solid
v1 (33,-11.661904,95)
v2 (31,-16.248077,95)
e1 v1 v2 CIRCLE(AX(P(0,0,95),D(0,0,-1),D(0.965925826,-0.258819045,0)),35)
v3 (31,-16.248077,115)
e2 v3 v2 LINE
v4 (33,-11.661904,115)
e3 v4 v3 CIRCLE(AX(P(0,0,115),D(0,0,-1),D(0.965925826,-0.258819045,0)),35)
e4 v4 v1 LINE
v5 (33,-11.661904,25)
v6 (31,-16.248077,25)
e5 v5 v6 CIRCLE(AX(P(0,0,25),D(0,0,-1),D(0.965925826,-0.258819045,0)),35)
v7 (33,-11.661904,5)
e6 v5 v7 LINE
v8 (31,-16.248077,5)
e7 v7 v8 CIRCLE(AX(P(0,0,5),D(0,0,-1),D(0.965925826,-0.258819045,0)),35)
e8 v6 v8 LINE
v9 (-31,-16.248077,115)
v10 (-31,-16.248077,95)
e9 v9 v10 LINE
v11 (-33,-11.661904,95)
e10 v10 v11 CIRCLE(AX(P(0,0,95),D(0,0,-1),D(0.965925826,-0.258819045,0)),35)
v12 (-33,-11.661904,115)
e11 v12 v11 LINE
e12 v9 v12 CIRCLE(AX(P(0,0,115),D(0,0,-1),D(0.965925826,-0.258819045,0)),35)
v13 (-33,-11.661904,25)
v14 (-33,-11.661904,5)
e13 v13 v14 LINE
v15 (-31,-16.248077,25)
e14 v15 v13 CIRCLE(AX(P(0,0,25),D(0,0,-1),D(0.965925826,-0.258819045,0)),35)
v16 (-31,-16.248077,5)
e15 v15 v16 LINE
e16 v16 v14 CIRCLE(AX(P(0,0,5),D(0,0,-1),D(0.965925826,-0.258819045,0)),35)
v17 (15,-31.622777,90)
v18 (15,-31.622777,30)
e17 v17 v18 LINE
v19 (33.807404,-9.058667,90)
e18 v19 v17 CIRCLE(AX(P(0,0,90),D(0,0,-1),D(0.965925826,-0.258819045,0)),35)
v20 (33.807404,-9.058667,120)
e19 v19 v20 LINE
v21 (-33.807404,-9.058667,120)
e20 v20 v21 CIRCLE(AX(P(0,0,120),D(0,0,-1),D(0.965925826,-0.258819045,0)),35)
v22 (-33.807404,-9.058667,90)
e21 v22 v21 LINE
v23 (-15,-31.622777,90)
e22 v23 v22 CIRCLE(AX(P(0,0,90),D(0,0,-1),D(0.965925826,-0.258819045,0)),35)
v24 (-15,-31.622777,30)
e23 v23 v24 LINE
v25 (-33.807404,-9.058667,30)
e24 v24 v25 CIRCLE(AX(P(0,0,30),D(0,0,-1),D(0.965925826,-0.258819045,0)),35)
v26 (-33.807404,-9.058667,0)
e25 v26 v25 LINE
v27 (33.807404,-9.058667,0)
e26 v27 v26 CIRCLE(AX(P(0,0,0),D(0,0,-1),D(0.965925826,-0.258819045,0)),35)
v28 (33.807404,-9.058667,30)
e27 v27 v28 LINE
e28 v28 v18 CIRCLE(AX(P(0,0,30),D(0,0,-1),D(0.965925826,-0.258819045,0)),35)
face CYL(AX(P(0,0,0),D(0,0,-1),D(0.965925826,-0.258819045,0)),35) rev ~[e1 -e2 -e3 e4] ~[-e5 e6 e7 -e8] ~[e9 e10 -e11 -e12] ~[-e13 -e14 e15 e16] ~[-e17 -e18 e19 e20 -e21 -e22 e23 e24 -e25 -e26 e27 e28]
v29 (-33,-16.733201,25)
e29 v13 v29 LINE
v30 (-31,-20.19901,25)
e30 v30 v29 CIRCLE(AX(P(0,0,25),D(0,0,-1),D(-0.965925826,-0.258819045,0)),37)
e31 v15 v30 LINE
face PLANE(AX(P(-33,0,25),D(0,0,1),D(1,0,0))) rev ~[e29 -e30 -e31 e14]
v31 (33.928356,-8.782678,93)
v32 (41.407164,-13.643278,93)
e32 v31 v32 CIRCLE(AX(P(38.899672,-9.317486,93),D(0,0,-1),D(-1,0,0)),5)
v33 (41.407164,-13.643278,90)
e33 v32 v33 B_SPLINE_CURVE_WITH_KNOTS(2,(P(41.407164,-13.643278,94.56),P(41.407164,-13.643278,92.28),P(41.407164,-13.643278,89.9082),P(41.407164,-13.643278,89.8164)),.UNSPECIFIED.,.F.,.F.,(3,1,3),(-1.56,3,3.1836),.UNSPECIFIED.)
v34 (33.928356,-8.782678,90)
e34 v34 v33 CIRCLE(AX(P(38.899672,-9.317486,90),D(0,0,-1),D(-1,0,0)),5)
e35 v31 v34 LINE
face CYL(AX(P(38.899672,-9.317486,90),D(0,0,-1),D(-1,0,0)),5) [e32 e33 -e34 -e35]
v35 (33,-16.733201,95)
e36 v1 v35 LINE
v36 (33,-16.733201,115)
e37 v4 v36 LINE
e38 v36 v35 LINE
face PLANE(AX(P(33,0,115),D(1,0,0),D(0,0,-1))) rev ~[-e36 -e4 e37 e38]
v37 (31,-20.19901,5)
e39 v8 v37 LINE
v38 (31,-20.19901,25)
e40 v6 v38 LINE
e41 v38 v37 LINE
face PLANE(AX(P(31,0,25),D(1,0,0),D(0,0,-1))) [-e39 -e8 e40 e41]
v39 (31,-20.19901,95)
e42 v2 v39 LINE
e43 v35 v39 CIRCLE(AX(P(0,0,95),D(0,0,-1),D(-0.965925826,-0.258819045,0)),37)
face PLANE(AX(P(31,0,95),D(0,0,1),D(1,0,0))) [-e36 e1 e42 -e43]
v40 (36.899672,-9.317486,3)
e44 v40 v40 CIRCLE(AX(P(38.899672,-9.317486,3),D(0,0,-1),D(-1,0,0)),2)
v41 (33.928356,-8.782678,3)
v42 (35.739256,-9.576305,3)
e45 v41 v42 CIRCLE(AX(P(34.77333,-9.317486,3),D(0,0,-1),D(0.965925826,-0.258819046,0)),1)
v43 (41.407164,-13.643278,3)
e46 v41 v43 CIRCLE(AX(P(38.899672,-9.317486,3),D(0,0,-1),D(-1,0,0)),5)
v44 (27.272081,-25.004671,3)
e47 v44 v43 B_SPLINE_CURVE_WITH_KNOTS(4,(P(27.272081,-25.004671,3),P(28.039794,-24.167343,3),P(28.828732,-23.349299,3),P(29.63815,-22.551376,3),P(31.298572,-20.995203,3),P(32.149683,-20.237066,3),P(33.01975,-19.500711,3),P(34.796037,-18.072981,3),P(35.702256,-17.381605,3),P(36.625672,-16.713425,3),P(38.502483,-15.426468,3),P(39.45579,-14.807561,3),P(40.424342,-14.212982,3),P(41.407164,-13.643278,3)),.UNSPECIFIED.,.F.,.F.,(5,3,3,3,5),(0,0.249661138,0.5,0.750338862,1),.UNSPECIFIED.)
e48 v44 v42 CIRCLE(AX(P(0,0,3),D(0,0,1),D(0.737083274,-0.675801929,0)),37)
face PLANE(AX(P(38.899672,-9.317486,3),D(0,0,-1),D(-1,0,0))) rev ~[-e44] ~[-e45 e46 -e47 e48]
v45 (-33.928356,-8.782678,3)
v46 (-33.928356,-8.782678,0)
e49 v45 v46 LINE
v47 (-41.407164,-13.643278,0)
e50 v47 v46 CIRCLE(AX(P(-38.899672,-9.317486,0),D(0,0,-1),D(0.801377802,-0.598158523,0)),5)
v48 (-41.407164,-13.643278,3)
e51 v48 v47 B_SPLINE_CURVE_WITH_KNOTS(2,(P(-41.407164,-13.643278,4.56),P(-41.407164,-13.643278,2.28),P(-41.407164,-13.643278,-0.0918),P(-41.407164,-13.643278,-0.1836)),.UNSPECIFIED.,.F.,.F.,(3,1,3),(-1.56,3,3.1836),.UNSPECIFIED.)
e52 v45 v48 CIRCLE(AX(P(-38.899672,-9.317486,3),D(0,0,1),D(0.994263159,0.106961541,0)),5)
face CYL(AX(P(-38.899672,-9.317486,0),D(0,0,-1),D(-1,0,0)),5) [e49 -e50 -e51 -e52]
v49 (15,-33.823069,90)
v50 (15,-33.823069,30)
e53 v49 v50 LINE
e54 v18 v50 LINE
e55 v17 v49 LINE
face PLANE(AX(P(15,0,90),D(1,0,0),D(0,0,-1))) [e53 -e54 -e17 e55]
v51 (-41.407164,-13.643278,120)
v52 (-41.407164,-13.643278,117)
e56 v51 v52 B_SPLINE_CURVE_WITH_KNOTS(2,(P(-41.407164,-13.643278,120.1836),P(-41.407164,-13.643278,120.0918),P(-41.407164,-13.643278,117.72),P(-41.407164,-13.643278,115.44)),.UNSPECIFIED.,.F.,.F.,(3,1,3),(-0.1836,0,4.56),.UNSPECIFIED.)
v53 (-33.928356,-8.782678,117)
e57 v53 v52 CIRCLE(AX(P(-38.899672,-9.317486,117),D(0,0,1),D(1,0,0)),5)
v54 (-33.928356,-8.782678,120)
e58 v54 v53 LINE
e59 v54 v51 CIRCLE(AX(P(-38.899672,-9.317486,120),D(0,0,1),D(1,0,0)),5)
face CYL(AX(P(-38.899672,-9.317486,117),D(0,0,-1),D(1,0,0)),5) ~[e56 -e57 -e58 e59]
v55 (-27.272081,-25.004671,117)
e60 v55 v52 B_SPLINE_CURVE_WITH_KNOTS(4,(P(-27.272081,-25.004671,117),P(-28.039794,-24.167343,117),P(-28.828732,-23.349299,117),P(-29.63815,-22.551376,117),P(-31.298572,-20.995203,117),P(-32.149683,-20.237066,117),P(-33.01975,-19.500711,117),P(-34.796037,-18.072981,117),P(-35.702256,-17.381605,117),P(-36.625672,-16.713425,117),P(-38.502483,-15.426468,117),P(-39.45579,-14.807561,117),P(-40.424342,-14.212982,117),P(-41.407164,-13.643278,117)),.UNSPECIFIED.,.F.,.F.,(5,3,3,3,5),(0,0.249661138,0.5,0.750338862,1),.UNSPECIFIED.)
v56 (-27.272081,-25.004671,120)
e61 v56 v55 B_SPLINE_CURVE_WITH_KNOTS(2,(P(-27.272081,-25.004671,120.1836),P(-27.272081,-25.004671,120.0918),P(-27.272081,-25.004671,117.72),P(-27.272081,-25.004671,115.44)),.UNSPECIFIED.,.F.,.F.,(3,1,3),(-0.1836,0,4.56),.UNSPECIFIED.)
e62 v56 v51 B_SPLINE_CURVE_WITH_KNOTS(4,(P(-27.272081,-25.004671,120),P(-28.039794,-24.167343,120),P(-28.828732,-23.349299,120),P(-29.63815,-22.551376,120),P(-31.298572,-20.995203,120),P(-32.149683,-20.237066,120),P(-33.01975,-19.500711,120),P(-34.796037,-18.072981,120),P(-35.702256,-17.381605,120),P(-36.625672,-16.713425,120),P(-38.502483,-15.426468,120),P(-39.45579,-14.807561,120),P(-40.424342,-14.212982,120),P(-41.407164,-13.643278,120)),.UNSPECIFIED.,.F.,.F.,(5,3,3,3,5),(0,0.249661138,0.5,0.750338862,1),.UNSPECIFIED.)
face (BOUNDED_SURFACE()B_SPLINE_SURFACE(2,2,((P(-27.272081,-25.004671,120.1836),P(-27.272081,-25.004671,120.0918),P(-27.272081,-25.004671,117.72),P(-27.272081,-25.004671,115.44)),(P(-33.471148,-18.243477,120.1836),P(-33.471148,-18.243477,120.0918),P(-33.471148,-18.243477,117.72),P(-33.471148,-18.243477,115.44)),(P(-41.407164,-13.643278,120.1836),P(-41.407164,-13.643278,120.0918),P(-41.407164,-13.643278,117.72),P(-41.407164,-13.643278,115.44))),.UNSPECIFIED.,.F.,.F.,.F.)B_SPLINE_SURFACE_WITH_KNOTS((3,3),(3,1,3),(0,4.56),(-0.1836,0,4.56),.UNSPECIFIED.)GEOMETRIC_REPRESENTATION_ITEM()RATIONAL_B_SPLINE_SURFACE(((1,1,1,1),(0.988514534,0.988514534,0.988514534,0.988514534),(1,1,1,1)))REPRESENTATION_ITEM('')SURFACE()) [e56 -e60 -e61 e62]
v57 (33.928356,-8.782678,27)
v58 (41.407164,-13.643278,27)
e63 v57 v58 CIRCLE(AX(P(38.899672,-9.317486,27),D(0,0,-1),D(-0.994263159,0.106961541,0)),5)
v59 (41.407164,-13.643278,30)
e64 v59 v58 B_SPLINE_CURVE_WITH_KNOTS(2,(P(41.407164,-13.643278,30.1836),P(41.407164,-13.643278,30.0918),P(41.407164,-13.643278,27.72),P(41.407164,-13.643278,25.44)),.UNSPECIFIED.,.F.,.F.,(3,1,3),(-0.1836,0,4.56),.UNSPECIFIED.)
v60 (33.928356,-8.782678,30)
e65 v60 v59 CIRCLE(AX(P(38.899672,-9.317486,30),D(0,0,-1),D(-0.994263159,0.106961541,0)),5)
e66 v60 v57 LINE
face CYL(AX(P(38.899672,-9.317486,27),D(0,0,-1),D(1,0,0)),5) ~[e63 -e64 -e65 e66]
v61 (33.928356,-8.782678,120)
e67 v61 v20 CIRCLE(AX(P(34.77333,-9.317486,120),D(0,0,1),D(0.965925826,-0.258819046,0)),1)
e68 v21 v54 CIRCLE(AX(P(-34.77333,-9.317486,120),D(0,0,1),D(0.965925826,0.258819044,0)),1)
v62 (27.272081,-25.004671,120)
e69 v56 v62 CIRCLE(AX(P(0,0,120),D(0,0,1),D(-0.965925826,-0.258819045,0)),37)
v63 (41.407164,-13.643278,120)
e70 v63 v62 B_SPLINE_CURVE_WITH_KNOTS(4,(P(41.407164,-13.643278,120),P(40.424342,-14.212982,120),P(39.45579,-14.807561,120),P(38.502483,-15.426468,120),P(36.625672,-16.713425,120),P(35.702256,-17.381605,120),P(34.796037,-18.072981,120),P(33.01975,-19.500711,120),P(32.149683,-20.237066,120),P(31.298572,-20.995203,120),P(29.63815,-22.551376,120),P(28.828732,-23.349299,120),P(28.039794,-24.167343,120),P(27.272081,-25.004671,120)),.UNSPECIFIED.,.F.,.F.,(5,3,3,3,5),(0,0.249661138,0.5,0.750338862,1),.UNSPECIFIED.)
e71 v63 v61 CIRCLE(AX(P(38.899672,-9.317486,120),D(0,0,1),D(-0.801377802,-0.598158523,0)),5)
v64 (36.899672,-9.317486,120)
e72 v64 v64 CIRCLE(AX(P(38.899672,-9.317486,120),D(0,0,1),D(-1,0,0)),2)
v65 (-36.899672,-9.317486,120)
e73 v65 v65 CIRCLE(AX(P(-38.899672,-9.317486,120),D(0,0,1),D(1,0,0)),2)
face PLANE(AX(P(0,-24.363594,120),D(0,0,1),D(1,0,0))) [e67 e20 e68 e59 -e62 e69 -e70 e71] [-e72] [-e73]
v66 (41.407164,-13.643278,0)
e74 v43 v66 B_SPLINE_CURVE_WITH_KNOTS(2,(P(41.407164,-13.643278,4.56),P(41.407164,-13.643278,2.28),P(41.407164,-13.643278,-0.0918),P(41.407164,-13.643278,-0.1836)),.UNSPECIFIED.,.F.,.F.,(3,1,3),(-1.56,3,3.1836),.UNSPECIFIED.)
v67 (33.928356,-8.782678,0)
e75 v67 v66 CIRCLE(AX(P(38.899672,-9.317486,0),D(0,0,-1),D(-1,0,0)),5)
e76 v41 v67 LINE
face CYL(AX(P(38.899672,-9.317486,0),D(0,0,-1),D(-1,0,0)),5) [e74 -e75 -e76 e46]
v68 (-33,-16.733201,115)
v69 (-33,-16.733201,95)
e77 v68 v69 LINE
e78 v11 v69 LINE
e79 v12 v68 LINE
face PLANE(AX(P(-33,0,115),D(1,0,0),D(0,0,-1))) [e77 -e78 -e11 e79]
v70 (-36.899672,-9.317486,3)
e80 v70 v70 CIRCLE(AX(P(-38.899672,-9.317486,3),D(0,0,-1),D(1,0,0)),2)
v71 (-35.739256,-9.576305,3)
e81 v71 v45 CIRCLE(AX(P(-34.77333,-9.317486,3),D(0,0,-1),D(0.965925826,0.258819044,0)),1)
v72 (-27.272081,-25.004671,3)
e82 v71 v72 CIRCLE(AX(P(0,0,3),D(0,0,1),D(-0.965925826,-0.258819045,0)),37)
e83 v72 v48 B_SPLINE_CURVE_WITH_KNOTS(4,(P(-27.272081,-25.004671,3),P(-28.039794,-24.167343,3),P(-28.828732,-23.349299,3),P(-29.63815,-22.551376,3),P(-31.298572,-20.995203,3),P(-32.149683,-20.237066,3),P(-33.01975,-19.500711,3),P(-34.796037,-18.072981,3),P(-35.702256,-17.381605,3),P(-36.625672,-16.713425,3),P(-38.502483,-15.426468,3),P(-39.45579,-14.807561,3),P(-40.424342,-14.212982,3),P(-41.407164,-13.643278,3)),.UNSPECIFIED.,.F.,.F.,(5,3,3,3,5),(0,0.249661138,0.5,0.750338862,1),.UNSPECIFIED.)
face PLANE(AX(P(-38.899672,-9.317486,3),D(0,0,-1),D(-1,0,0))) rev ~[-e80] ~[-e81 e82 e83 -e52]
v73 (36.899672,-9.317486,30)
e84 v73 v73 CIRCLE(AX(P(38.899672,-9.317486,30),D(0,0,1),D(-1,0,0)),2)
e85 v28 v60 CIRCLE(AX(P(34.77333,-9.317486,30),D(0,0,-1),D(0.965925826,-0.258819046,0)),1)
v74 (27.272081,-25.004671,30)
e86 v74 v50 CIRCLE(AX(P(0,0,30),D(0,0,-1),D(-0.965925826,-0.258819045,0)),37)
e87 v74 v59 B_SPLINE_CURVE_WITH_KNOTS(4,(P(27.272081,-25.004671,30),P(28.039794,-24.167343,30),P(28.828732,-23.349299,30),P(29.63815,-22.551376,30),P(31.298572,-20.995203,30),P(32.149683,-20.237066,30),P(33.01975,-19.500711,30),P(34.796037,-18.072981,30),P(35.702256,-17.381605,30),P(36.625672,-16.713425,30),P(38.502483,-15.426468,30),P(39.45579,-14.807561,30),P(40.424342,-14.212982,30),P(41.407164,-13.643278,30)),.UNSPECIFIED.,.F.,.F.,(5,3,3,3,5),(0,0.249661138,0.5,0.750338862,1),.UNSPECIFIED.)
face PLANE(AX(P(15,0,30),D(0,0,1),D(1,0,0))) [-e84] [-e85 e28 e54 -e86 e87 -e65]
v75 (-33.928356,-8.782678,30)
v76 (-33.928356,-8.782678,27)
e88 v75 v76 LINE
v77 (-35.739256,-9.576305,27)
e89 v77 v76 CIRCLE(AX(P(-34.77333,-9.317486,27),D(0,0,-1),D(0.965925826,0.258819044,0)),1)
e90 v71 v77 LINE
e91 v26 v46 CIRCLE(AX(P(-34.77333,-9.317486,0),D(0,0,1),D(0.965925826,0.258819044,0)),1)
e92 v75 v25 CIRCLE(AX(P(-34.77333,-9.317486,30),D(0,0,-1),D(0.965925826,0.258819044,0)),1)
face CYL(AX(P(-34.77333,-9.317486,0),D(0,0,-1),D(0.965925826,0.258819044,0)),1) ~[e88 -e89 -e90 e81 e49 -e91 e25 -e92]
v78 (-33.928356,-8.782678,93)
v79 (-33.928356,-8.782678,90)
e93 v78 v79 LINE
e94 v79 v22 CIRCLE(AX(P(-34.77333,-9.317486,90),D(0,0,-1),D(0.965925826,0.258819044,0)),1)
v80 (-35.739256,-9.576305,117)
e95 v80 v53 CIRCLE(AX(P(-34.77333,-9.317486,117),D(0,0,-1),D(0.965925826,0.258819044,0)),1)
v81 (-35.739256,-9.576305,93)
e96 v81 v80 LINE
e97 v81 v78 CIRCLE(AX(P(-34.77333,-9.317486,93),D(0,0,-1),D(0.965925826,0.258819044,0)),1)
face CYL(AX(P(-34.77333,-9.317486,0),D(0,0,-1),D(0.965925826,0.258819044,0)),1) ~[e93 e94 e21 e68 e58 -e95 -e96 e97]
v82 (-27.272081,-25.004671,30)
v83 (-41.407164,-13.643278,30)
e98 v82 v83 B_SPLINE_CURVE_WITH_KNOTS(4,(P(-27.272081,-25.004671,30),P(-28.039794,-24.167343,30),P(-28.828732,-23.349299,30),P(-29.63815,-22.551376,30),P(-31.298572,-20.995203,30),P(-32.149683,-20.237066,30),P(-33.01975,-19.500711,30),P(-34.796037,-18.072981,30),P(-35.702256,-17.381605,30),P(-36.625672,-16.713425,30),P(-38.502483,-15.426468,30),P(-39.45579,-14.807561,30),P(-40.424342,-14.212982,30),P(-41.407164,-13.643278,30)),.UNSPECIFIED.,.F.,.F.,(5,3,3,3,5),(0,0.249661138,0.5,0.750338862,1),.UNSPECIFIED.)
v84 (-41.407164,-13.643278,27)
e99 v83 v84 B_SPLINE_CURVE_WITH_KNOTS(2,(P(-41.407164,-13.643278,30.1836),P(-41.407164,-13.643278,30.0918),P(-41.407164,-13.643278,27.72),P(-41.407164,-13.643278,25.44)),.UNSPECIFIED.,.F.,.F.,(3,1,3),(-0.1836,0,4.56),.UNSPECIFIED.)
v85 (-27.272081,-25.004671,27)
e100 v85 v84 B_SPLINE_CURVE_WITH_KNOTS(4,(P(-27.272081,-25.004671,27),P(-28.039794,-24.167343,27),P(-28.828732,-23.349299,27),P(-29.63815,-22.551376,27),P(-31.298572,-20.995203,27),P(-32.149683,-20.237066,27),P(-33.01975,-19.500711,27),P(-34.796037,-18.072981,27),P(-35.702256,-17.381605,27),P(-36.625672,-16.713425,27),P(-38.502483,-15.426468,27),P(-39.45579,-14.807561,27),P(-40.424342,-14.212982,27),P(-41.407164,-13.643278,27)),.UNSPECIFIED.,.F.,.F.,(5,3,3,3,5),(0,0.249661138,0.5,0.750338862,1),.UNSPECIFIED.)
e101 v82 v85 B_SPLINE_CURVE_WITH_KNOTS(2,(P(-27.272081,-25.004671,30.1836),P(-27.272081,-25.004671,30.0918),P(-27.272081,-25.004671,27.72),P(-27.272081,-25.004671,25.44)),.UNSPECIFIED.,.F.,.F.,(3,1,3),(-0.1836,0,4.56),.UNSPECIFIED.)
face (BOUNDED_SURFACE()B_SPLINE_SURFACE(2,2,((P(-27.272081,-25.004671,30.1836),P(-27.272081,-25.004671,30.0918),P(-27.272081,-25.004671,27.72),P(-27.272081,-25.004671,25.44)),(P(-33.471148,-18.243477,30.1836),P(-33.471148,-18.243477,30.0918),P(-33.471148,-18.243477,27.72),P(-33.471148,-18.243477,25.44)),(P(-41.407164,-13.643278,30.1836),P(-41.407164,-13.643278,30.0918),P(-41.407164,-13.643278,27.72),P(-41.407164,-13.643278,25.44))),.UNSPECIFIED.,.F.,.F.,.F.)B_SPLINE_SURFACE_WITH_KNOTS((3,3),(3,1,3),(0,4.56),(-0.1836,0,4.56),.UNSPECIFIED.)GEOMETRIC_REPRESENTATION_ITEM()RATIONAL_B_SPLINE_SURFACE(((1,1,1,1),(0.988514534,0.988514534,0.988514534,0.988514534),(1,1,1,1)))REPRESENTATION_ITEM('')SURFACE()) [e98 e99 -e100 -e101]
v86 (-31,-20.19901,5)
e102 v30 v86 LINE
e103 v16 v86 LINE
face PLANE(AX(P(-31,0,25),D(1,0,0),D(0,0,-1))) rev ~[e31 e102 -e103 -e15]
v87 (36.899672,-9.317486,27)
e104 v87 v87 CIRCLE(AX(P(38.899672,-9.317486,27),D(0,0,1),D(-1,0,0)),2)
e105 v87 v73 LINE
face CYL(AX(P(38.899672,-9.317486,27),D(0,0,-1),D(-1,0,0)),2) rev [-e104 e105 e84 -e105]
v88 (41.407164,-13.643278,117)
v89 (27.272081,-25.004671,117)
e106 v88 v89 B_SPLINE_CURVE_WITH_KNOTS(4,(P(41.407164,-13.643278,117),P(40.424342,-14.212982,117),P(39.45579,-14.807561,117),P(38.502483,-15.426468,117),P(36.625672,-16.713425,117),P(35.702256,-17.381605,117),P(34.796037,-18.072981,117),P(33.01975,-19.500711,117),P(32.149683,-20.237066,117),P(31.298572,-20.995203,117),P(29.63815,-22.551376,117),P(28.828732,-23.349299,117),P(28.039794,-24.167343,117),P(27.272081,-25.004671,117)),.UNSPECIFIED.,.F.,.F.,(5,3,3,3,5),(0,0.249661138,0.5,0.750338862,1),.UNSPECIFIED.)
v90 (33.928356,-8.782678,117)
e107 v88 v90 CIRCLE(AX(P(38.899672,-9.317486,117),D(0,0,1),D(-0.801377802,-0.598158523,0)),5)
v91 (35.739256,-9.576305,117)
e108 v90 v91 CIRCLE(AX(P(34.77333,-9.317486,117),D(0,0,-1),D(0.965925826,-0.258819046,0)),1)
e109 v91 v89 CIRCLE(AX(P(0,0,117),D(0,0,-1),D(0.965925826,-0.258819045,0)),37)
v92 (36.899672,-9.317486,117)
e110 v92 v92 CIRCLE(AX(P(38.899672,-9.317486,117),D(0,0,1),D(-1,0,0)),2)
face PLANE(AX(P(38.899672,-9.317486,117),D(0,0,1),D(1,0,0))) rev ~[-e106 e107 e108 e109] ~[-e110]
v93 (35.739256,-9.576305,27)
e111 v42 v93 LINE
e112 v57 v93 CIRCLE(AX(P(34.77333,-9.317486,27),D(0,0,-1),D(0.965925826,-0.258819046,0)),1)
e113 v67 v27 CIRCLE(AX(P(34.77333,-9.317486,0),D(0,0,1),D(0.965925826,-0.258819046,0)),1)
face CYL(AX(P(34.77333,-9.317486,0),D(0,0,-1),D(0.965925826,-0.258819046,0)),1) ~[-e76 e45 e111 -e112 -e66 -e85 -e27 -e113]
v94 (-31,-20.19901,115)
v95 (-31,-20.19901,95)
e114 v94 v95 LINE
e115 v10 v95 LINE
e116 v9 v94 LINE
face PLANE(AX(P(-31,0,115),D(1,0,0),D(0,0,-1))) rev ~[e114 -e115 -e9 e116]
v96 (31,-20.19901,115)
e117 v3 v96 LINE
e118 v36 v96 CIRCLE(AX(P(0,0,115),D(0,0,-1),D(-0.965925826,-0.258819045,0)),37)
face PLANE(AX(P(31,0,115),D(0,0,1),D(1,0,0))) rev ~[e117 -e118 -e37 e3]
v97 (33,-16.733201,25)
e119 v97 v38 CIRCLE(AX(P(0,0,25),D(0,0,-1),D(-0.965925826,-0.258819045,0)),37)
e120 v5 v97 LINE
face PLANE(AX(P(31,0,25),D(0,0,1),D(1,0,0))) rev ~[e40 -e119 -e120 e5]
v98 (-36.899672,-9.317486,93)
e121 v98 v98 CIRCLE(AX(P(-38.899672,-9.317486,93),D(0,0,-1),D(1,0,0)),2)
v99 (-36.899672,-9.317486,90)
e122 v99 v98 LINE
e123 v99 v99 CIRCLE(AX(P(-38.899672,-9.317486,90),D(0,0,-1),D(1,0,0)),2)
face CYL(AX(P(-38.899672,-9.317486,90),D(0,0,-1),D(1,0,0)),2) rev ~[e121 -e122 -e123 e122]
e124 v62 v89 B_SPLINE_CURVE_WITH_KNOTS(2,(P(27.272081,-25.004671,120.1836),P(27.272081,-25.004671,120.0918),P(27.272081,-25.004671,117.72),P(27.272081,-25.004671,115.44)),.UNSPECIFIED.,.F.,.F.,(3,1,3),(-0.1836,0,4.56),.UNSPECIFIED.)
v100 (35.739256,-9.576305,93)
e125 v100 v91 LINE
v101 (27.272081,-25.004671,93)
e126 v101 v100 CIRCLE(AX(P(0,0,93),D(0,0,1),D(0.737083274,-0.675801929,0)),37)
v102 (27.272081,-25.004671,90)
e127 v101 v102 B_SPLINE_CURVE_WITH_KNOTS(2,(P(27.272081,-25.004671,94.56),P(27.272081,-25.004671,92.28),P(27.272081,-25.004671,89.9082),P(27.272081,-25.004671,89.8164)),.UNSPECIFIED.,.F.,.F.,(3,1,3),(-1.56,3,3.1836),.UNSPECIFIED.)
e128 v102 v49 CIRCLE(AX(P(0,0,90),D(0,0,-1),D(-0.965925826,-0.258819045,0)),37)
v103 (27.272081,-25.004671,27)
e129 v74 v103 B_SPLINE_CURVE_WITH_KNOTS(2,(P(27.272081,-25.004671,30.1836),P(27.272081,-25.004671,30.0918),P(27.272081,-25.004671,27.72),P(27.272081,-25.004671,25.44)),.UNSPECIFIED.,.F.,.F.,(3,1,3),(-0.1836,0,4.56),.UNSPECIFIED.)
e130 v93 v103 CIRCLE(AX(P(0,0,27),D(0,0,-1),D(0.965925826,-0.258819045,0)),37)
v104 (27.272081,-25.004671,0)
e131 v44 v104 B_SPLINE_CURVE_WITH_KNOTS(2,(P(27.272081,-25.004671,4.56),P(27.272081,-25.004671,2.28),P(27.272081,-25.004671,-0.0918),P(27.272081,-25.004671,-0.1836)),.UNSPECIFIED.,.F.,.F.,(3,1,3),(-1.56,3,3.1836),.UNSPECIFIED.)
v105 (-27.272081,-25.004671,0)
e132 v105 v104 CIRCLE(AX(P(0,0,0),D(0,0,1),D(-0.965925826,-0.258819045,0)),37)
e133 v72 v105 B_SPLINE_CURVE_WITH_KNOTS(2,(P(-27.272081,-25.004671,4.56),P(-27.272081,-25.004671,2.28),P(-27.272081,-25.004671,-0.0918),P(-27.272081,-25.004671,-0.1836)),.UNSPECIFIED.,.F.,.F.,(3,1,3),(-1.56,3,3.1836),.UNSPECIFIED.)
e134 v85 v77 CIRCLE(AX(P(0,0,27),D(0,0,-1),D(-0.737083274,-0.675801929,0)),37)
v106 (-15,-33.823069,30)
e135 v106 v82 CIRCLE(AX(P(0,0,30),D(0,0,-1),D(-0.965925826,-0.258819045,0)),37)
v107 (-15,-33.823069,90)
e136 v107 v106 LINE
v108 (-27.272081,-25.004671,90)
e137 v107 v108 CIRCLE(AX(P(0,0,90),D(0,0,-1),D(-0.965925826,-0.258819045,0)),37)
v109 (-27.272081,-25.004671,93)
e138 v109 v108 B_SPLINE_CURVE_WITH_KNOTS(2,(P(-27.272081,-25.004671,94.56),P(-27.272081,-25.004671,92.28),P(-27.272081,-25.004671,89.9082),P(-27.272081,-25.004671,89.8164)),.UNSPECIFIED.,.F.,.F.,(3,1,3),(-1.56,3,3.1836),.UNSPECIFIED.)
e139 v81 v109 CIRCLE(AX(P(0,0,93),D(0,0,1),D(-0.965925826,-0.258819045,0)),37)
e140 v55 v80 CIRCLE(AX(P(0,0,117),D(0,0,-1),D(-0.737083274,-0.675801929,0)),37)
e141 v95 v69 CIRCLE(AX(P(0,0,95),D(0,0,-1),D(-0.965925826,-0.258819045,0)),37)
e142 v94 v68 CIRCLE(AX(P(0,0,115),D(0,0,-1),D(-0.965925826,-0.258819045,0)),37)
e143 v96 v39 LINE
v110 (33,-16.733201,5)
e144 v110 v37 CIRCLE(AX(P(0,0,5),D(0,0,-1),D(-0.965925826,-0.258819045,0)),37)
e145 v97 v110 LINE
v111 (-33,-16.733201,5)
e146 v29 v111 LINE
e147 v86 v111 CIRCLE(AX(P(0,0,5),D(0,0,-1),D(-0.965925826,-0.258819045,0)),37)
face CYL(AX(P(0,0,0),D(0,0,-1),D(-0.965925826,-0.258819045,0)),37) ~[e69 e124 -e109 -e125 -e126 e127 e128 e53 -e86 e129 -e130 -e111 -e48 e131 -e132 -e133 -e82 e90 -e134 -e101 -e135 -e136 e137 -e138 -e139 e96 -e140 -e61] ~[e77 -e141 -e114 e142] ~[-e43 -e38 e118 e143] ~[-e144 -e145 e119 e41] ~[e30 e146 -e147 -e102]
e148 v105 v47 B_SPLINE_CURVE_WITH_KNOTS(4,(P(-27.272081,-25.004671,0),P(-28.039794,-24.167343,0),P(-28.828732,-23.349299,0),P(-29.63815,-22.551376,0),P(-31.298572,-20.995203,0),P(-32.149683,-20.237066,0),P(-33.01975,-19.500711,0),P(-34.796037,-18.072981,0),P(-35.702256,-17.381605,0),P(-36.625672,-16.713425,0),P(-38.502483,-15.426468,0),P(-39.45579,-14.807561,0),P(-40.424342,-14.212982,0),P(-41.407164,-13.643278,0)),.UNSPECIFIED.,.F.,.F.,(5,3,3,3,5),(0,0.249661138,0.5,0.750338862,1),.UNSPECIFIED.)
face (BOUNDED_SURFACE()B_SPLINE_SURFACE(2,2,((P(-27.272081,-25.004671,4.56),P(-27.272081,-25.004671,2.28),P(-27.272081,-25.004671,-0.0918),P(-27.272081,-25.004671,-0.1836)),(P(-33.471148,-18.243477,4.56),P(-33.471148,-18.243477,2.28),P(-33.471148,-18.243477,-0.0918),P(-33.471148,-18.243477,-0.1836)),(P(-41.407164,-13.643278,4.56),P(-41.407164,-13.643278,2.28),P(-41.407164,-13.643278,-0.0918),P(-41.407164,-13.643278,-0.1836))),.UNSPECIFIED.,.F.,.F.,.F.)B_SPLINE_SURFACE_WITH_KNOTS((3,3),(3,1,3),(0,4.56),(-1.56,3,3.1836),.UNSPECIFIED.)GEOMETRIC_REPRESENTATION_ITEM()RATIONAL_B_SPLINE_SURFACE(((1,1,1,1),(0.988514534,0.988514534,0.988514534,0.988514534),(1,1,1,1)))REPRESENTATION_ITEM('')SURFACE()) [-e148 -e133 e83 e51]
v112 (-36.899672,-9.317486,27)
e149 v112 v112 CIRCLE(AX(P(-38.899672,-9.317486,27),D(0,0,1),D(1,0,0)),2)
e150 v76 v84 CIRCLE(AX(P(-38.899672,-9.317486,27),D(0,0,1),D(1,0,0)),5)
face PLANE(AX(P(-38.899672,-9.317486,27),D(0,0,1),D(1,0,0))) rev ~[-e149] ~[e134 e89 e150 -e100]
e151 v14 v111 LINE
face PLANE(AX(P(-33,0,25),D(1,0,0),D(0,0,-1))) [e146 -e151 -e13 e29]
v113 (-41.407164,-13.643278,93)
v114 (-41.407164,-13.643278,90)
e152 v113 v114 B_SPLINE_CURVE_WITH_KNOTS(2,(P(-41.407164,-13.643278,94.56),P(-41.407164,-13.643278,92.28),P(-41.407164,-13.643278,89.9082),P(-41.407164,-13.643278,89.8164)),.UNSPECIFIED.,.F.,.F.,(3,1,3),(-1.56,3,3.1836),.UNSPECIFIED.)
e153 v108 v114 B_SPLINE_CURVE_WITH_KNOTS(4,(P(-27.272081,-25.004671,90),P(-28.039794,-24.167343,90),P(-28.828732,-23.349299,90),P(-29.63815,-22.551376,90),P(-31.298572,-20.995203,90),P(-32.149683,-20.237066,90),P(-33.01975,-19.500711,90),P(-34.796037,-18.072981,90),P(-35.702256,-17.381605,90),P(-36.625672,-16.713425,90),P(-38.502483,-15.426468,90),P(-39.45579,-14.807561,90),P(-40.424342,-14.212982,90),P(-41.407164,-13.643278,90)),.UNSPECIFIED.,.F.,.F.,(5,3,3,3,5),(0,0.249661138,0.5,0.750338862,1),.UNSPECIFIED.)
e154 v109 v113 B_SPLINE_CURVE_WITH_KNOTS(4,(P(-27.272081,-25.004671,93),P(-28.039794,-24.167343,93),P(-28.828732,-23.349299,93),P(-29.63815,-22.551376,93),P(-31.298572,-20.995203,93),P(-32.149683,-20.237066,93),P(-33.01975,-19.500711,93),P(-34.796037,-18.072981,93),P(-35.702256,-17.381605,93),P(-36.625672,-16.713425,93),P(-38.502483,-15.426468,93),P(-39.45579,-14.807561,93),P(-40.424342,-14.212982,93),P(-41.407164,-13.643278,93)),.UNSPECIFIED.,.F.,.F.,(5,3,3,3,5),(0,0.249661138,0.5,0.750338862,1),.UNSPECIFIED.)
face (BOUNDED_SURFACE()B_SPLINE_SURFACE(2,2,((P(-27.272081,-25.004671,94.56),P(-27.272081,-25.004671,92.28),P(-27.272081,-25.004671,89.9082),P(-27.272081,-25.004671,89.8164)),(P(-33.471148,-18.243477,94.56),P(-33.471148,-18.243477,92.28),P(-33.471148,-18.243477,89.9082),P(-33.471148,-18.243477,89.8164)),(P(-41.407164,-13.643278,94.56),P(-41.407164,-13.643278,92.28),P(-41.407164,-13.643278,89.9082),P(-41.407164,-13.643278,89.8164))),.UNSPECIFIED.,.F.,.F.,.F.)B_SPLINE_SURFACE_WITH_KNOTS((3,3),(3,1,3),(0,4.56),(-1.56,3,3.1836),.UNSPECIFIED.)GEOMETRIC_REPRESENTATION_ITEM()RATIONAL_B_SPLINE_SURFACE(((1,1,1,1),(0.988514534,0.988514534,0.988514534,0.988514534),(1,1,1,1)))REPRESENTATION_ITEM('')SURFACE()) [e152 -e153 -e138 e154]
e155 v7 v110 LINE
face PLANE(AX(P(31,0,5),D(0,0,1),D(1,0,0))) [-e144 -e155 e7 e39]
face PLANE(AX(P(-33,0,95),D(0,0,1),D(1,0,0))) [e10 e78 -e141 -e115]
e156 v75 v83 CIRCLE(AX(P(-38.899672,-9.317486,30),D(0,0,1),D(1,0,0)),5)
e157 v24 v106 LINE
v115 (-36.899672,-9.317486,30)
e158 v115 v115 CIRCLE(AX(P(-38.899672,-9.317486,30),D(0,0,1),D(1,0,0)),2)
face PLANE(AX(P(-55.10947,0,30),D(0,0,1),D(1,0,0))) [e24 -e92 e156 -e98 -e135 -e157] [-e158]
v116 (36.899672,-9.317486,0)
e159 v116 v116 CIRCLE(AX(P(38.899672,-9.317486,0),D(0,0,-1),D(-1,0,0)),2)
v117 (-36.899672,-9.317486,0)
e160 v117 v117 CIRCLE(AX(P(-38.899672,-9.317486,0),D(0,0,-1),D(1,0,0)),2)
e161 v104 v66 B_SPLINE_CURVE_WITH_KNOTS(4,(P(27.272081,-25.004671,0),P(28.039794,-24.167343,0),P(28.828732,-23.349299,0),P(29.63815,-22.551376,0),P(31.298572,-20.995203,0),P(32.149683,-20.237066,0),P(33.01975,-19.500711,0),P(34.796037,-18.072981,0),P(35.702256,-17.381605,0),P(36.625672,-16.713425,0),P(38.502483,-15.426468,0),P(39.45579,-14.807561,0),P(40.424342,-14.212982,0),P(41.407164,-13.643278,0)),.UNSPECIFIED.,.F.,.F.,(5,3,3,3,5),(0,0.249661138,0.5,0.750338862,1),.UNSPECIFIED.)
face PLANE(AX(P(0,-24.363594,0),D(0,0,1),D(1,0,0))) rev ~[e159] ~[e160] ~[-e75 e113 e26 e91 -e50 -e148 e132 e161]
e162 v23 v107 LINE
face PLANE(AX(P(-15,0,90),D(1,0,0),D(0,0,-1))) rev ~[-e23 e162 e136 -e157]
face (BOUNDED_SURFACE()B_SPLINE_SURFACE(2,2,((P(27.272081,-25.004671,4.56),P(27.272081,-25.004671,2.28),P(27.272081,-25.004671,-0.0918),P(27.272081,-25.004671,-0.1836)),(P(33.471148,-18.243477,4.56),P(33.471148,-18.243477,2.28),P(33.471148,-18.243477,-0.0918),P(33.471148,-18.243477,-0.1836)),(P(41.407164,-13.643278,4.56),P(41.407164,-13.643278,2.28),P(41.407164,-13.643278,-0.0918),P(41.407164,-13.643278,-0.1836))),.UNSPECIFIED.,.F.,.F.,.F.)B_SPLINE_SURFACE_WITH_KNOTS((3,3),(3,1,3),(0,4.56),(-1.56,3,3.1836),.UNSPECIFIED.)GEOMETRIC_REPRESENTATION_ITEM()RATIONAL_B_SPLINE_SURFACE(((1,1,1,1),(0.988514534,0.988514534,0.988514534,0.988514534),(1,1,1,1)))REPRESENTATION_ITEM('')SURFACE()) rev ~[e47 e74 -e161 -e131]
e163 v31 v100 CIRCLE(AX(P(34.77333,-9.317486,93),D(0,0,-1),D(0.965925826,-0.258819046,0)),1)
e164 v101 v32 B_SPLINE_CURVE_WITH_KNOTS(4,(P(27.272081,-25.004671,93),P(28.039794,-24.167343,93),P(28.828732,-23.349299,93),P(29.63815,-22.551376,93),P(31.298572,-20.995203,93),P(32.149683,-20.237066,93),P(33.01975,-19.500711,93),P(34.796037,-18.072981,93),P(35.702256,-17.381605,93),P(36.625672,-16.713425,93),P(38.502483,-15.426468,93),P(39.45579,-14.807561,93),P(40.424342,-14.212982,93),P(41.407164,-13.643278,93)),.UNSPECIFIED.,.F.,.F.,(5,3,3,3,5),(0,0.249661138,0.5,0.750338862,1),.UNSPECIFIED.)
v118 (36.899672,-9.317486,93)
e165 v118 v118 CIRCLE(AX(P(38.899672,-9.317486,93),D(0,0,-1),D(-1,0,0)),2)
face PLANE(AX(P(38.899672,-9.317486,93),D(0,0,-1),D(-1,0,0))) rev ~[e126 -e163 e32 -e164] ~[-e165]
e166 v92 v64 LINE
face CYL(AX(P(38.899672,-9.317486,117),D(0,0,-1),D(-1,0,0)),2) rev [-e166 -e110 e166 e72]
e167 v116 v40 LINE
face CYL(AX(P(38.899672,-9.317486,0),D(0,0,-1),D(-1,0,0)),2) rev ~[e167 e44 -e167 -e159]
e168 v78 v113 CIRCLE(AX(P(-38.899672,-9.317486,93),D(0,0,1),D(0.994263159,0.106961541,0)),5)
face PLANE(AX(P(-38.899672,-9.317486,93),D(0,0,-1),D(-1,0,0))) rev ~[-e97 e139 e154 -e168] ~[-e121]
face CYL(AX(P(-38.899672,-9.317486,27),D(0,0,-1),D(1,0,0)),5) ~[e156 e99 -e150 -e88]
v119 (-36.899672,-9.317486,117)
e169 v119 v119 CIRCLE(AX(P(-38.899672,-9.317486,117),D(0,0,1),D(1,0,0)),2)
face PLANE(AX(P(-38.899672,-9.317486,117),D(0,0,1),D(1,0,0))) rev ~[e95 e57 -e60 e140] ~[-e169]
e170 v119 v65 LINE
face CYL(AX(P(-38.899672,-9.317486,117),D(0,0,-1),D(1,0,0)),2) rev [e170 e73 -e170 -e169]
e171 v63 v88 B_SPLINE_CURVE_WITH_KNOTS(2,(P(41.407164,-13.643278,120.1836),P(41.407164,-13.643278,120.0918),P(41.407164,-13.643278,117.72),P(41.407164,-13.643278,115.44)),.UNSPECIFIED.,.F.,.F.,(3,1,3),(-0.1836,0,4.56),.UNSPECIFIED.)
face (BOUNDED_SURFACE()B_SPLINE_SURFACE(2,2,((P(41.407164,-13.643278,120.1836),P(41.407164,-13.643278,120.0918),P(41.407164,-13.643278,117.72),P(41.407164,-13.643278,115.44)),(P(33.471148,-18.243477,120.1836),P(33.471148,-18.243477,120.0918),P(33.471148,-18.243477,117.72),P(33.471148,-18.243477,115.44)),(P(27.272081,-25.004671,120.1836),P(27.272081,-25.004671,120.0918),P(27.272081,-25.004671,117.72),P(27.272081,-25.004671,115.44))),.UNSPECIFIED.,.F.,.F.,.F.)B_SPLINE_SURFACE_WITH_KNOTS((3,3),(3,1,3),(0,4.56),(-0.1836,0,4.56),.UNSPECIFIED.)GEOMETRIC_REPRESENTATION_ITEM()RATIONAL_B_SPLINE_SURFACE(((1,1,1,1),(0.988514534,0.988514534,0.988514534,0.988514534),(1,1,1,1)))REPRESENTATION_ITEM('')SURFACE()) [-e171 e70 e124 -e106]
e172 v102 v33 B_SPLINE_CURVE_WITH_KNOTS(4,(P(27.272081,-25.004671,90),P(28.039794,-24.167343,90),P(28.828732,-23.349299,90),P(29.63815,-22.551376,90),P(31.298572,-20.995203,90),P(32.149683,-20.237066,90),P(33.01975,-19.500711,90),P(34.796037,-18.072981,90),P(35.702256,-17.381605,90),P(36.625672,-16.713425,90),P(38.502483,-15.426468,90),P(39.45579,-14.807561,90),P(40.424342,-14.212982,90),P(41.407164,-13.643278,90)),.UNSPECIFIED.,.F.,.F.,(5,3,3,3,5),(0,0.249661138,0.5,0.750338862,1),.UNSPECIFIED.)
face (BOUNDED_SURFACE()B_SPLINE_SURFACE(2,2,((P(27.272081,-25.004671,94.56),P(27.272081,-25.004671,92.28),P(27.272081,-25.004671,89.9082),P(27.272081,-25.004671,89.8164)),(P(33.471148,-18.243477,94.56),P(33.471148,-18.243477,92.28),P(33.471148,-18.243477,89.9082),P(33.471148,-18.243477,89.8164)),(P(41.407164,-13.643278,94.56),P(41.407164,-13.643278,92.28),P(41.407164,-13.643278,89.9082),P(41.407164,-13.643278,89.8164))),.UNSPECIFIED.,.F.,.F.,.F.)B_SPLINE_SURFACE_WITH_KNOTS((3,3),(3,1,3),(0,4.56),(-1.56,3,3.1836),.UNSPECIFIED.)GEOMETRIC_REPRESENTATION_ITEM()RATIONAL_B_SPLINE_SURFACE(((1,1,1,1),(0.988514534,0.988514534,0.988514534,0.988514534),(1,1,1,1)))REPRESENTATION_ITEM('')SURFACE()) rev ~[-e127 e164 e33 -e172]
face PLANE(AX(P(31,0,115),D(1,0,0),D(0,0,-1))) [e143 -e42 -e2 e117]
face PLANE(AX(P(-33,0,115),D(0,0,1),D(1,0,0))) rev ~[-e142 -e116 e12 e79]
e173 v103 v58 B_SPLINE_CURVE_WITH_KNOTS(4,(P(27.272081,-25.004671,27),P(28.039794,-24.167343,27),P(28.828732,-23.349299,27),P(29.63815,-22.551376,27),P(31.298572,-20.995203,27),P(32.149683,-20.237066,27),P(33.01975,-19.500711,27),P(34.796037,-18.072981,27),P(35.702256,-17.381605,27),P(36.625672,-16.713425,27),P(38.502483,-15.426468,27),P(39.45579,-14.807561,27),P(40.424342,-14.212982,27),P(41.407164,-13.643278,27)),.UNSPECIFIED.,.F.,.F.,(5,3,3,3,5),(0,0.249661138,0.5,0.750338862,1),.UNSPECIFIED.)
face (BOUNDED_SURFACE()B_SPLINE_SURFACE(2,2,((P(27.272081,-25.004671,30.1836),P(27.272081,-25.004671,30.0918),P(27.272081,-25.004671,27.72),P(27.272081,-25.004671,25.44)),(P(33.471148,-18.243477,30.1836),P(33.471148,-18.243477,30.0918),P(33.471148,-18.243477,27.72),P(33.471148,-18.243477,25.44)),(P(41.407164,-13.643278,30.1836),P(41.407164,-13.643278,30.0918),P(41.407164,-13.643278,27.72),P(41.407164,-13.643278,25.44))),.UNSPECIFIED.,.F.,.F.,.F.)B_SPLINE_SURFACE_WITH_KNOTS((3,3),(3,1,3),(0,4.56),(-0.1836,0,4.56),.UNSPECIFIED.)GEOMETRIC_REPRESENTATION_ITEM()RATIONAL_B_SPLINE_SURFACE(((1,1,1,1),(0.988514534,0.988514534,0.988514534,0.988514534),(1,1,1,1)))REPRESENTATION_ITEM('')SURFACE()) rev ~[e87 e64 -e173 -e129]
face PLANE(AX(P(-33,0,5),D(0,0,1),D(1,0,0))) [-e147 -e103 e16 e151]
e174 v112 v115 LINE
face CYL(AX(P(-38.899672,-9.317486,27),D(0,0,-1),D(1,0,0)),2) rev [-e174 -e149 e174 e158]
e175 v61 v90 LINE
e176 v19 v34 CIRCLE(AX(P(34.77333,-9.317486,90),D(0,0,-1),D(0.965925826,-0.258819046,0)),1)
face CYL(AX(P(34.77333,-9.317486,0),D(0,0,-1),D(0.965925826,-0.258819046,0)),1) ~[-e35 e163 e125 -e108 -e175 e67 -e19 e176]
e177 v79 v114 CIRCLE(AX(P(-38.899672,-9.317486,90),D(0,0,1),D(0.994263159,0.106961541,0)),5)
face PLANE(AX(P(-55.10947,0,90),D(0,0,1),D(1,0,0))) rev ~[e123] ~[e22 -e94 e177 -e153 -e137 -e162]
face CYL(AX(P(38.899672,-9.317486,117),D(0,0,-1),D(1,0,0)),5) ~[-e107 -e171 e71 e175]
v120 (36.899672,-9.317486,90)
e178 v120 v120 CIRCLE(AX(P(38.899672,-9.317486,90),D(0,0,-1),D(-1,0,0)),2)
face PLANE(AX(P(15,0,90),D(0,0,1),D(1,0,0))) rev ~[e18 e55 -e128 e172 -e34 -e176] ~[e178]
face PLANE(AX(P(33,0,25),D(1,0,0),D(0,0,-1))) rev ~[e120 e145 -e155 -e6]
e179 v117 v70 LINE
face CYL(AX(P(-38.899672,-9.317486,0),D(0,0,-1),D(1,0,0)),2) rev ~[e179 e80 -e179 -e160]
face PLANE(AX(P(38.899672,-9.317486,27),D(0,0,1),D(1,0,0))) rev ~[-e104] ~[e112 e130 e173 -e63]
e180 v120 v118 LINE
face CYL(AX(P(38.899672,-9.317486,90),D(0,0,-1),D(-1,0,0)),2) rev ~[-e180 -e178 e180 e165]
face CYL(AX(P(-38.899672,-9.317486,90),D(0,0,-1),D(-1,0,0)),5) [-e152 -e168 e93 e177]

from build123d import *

# Parameters (mm, degrees)
BOSS_EXTRUDE1_DEPTH = 120
SKETCH2_W           = 40.109469753
SKETCH2_H           = 60
SKETCH2_W_2         = 2
SKETCH2_H_2         = 20
CUT_EXTRUDE1_DEPTH  = 120
SKETCH3_R           = 5
SKETCH3_R_2         = 2
BOSS_EXTRUDE2_DEPTH = 3
BOSS_EXTRUDE3_START = -3
SKETCH4_R           = 5
SKETCH4_R_2         = 2
BOSS_EXTRUDE3_DEPTH = 3
LPATTERN1_COUNT     = 2
LPATTERN1_PITCH     = 90
FILLET1_R           = 60


with BuildPart() as part:
    # Sketch1 → Boss-Extrude1 (new body)
    with BuildSketch(Plane.XY):
        with BuildLine():
            ThreePointArc((33.80740392, -9.058666579), (0, -35), (-33.80740392, -9.058666579))
            ThreePointArc((-33.80740392, -9.058666579), (-35.032148792, -8.351559797), (-35.739255573, -9.576304669))
            ThreePointArc((-35.739255573, -9.576304669), (0, -37), (35.739255573, -9.576304669))
            ThreePointArc((35.739255573, -9.576304669), (35.032148792, -8.351559797), (33.80740392, -9.058666579))
        make_face()
    extrude(amount=BOSS_EXTRUDE1_DEPTH)

    # Sketch2 → Cut-Extrude1 (cut)
    with BuildSketch(Plane(origin=(0, 0, 0), x_dir=(1, 0, 0), z_dir=(0, 1, 0))):
        with Locations((-35.054734877, -60)):
            Rectangle(SKETCH2_W, SKETCH2_H)
        with Locations((35.054734877, -60)):
            Rectangle(SKETCH2_W, SKETCH2_H)
        with Locations((32, -15)):
            Rectangle(SKETCH2_W_2, SKETCH2_H_2)
        with Locations((-32, -15)):
            Rectangle(SKETCH2_W_2, SKETCH2_H_2)
        with Locations((-32, -105)):
            Rectangle(SKETCH2_W_2, SKETCH2_H_2)
        with Locations((32, -105)):
            Rectangle(SKETCH2_W_2, SKETCH2_H_2)
    extrude(amount=-CUT_EXTRUDE1_DEPTH, mode=Mode.SUBTRACT)

    # Sketch3 → Boss-Extrude2 (add)
    # profile 1 of 2: a face of its own
    with BuildSketch(Plane(origin=(0, 0, 0), x_dir=(-1, 0, 0), z_dir=(0, 0, -1))):
        with Locations((-38.899671742, -9.317485624)):
            Circle(SKETCH3_R)
        with Locations((-38.899671742, -9.317485624)):
            Circle(SKETCH3_R_2, mode=Mode.SUBTRACT)
    # profile 2 of 2: a face of its own
    with BuildSketch(Plane(origin=(0, 0, 0), x_dir=(-1, 0, 0), z_dir=(0, 0, -1))):
        with Locations((38.899671742, -9.317485624)):
            Circle(SKETCH3_R)
        with Locations(Location((38.899671742, -9.317485624, 0), (0, 0, 180))):
            Circle(SKETCH3_R_2, mode=Mode.SUBTRACT)
    boss_extrude2 = extrude(amount=-BOSS_EXTRUDE2_DEPTH)

    # Sketch4 → Boss-Extrude3 (add)
    # profile 1 of 2: a face of its own
    with BuildSketch(Plane.XY.offset(30).offset(BOSS_EXTRUDE3_START)):
        with Locations((-38.899671742, -9.317485624)):
            Circle(SKETCH4_R)
        with Locations((-38.899671742, -9.317485624)):
            Circle(SKETCH4_R_2, mode=Mode.SUBTRACT)
    # profile 2 of 2: a face of its own
    with BuildSketch(Plane.XY.offset(30).offset(BOSS_EXTRUDE3_START)):
        with Locations((38.899671742, -9.317485624)):
            Circle(SKETCH4_R)
        with Locations(Location((38.899671742, -9.317485624, 0), (0, 0, 180))):
            Circle(SKETCH4_R_2, mode=Mode.SUBTRACT)
    boss_extrude3 = extrude(amount=BOSS_EXTRUDE3_DEPTH)

    # LPattern1: Boss-Extrude2, Boss-Extrude3 ×2
    with Locations(*[(0, 0, i * LPATTERN1_PITCH) for i in range(1, LPATTERN1_COUNT)]):
        add(boss_extrude2)
        add(boss_extrude3)

    # Fillet1
    fillet1_edges = [part.edges().sort_by_distance(p)[0] for p in [
        (34.892782732, -12.308278238, 1.5),
        (-34.892782732, -12.308278238, 1.5),
        (-34.892782732, -12.308278238, 28.5),
        (34.892782732, -12.308278238, 28.5),
        (34.892782732, -12.308278238, 91.5),
        (-34.892782732, -12.308278238, 91.5),
        (-34.892782732, -12.308278238, 118.5),
        (34.892782732, -12.308278238, 118.5),
    ]]
    fillet(fillet1_edges, radius=FILLET1_R)


solid = part.part
